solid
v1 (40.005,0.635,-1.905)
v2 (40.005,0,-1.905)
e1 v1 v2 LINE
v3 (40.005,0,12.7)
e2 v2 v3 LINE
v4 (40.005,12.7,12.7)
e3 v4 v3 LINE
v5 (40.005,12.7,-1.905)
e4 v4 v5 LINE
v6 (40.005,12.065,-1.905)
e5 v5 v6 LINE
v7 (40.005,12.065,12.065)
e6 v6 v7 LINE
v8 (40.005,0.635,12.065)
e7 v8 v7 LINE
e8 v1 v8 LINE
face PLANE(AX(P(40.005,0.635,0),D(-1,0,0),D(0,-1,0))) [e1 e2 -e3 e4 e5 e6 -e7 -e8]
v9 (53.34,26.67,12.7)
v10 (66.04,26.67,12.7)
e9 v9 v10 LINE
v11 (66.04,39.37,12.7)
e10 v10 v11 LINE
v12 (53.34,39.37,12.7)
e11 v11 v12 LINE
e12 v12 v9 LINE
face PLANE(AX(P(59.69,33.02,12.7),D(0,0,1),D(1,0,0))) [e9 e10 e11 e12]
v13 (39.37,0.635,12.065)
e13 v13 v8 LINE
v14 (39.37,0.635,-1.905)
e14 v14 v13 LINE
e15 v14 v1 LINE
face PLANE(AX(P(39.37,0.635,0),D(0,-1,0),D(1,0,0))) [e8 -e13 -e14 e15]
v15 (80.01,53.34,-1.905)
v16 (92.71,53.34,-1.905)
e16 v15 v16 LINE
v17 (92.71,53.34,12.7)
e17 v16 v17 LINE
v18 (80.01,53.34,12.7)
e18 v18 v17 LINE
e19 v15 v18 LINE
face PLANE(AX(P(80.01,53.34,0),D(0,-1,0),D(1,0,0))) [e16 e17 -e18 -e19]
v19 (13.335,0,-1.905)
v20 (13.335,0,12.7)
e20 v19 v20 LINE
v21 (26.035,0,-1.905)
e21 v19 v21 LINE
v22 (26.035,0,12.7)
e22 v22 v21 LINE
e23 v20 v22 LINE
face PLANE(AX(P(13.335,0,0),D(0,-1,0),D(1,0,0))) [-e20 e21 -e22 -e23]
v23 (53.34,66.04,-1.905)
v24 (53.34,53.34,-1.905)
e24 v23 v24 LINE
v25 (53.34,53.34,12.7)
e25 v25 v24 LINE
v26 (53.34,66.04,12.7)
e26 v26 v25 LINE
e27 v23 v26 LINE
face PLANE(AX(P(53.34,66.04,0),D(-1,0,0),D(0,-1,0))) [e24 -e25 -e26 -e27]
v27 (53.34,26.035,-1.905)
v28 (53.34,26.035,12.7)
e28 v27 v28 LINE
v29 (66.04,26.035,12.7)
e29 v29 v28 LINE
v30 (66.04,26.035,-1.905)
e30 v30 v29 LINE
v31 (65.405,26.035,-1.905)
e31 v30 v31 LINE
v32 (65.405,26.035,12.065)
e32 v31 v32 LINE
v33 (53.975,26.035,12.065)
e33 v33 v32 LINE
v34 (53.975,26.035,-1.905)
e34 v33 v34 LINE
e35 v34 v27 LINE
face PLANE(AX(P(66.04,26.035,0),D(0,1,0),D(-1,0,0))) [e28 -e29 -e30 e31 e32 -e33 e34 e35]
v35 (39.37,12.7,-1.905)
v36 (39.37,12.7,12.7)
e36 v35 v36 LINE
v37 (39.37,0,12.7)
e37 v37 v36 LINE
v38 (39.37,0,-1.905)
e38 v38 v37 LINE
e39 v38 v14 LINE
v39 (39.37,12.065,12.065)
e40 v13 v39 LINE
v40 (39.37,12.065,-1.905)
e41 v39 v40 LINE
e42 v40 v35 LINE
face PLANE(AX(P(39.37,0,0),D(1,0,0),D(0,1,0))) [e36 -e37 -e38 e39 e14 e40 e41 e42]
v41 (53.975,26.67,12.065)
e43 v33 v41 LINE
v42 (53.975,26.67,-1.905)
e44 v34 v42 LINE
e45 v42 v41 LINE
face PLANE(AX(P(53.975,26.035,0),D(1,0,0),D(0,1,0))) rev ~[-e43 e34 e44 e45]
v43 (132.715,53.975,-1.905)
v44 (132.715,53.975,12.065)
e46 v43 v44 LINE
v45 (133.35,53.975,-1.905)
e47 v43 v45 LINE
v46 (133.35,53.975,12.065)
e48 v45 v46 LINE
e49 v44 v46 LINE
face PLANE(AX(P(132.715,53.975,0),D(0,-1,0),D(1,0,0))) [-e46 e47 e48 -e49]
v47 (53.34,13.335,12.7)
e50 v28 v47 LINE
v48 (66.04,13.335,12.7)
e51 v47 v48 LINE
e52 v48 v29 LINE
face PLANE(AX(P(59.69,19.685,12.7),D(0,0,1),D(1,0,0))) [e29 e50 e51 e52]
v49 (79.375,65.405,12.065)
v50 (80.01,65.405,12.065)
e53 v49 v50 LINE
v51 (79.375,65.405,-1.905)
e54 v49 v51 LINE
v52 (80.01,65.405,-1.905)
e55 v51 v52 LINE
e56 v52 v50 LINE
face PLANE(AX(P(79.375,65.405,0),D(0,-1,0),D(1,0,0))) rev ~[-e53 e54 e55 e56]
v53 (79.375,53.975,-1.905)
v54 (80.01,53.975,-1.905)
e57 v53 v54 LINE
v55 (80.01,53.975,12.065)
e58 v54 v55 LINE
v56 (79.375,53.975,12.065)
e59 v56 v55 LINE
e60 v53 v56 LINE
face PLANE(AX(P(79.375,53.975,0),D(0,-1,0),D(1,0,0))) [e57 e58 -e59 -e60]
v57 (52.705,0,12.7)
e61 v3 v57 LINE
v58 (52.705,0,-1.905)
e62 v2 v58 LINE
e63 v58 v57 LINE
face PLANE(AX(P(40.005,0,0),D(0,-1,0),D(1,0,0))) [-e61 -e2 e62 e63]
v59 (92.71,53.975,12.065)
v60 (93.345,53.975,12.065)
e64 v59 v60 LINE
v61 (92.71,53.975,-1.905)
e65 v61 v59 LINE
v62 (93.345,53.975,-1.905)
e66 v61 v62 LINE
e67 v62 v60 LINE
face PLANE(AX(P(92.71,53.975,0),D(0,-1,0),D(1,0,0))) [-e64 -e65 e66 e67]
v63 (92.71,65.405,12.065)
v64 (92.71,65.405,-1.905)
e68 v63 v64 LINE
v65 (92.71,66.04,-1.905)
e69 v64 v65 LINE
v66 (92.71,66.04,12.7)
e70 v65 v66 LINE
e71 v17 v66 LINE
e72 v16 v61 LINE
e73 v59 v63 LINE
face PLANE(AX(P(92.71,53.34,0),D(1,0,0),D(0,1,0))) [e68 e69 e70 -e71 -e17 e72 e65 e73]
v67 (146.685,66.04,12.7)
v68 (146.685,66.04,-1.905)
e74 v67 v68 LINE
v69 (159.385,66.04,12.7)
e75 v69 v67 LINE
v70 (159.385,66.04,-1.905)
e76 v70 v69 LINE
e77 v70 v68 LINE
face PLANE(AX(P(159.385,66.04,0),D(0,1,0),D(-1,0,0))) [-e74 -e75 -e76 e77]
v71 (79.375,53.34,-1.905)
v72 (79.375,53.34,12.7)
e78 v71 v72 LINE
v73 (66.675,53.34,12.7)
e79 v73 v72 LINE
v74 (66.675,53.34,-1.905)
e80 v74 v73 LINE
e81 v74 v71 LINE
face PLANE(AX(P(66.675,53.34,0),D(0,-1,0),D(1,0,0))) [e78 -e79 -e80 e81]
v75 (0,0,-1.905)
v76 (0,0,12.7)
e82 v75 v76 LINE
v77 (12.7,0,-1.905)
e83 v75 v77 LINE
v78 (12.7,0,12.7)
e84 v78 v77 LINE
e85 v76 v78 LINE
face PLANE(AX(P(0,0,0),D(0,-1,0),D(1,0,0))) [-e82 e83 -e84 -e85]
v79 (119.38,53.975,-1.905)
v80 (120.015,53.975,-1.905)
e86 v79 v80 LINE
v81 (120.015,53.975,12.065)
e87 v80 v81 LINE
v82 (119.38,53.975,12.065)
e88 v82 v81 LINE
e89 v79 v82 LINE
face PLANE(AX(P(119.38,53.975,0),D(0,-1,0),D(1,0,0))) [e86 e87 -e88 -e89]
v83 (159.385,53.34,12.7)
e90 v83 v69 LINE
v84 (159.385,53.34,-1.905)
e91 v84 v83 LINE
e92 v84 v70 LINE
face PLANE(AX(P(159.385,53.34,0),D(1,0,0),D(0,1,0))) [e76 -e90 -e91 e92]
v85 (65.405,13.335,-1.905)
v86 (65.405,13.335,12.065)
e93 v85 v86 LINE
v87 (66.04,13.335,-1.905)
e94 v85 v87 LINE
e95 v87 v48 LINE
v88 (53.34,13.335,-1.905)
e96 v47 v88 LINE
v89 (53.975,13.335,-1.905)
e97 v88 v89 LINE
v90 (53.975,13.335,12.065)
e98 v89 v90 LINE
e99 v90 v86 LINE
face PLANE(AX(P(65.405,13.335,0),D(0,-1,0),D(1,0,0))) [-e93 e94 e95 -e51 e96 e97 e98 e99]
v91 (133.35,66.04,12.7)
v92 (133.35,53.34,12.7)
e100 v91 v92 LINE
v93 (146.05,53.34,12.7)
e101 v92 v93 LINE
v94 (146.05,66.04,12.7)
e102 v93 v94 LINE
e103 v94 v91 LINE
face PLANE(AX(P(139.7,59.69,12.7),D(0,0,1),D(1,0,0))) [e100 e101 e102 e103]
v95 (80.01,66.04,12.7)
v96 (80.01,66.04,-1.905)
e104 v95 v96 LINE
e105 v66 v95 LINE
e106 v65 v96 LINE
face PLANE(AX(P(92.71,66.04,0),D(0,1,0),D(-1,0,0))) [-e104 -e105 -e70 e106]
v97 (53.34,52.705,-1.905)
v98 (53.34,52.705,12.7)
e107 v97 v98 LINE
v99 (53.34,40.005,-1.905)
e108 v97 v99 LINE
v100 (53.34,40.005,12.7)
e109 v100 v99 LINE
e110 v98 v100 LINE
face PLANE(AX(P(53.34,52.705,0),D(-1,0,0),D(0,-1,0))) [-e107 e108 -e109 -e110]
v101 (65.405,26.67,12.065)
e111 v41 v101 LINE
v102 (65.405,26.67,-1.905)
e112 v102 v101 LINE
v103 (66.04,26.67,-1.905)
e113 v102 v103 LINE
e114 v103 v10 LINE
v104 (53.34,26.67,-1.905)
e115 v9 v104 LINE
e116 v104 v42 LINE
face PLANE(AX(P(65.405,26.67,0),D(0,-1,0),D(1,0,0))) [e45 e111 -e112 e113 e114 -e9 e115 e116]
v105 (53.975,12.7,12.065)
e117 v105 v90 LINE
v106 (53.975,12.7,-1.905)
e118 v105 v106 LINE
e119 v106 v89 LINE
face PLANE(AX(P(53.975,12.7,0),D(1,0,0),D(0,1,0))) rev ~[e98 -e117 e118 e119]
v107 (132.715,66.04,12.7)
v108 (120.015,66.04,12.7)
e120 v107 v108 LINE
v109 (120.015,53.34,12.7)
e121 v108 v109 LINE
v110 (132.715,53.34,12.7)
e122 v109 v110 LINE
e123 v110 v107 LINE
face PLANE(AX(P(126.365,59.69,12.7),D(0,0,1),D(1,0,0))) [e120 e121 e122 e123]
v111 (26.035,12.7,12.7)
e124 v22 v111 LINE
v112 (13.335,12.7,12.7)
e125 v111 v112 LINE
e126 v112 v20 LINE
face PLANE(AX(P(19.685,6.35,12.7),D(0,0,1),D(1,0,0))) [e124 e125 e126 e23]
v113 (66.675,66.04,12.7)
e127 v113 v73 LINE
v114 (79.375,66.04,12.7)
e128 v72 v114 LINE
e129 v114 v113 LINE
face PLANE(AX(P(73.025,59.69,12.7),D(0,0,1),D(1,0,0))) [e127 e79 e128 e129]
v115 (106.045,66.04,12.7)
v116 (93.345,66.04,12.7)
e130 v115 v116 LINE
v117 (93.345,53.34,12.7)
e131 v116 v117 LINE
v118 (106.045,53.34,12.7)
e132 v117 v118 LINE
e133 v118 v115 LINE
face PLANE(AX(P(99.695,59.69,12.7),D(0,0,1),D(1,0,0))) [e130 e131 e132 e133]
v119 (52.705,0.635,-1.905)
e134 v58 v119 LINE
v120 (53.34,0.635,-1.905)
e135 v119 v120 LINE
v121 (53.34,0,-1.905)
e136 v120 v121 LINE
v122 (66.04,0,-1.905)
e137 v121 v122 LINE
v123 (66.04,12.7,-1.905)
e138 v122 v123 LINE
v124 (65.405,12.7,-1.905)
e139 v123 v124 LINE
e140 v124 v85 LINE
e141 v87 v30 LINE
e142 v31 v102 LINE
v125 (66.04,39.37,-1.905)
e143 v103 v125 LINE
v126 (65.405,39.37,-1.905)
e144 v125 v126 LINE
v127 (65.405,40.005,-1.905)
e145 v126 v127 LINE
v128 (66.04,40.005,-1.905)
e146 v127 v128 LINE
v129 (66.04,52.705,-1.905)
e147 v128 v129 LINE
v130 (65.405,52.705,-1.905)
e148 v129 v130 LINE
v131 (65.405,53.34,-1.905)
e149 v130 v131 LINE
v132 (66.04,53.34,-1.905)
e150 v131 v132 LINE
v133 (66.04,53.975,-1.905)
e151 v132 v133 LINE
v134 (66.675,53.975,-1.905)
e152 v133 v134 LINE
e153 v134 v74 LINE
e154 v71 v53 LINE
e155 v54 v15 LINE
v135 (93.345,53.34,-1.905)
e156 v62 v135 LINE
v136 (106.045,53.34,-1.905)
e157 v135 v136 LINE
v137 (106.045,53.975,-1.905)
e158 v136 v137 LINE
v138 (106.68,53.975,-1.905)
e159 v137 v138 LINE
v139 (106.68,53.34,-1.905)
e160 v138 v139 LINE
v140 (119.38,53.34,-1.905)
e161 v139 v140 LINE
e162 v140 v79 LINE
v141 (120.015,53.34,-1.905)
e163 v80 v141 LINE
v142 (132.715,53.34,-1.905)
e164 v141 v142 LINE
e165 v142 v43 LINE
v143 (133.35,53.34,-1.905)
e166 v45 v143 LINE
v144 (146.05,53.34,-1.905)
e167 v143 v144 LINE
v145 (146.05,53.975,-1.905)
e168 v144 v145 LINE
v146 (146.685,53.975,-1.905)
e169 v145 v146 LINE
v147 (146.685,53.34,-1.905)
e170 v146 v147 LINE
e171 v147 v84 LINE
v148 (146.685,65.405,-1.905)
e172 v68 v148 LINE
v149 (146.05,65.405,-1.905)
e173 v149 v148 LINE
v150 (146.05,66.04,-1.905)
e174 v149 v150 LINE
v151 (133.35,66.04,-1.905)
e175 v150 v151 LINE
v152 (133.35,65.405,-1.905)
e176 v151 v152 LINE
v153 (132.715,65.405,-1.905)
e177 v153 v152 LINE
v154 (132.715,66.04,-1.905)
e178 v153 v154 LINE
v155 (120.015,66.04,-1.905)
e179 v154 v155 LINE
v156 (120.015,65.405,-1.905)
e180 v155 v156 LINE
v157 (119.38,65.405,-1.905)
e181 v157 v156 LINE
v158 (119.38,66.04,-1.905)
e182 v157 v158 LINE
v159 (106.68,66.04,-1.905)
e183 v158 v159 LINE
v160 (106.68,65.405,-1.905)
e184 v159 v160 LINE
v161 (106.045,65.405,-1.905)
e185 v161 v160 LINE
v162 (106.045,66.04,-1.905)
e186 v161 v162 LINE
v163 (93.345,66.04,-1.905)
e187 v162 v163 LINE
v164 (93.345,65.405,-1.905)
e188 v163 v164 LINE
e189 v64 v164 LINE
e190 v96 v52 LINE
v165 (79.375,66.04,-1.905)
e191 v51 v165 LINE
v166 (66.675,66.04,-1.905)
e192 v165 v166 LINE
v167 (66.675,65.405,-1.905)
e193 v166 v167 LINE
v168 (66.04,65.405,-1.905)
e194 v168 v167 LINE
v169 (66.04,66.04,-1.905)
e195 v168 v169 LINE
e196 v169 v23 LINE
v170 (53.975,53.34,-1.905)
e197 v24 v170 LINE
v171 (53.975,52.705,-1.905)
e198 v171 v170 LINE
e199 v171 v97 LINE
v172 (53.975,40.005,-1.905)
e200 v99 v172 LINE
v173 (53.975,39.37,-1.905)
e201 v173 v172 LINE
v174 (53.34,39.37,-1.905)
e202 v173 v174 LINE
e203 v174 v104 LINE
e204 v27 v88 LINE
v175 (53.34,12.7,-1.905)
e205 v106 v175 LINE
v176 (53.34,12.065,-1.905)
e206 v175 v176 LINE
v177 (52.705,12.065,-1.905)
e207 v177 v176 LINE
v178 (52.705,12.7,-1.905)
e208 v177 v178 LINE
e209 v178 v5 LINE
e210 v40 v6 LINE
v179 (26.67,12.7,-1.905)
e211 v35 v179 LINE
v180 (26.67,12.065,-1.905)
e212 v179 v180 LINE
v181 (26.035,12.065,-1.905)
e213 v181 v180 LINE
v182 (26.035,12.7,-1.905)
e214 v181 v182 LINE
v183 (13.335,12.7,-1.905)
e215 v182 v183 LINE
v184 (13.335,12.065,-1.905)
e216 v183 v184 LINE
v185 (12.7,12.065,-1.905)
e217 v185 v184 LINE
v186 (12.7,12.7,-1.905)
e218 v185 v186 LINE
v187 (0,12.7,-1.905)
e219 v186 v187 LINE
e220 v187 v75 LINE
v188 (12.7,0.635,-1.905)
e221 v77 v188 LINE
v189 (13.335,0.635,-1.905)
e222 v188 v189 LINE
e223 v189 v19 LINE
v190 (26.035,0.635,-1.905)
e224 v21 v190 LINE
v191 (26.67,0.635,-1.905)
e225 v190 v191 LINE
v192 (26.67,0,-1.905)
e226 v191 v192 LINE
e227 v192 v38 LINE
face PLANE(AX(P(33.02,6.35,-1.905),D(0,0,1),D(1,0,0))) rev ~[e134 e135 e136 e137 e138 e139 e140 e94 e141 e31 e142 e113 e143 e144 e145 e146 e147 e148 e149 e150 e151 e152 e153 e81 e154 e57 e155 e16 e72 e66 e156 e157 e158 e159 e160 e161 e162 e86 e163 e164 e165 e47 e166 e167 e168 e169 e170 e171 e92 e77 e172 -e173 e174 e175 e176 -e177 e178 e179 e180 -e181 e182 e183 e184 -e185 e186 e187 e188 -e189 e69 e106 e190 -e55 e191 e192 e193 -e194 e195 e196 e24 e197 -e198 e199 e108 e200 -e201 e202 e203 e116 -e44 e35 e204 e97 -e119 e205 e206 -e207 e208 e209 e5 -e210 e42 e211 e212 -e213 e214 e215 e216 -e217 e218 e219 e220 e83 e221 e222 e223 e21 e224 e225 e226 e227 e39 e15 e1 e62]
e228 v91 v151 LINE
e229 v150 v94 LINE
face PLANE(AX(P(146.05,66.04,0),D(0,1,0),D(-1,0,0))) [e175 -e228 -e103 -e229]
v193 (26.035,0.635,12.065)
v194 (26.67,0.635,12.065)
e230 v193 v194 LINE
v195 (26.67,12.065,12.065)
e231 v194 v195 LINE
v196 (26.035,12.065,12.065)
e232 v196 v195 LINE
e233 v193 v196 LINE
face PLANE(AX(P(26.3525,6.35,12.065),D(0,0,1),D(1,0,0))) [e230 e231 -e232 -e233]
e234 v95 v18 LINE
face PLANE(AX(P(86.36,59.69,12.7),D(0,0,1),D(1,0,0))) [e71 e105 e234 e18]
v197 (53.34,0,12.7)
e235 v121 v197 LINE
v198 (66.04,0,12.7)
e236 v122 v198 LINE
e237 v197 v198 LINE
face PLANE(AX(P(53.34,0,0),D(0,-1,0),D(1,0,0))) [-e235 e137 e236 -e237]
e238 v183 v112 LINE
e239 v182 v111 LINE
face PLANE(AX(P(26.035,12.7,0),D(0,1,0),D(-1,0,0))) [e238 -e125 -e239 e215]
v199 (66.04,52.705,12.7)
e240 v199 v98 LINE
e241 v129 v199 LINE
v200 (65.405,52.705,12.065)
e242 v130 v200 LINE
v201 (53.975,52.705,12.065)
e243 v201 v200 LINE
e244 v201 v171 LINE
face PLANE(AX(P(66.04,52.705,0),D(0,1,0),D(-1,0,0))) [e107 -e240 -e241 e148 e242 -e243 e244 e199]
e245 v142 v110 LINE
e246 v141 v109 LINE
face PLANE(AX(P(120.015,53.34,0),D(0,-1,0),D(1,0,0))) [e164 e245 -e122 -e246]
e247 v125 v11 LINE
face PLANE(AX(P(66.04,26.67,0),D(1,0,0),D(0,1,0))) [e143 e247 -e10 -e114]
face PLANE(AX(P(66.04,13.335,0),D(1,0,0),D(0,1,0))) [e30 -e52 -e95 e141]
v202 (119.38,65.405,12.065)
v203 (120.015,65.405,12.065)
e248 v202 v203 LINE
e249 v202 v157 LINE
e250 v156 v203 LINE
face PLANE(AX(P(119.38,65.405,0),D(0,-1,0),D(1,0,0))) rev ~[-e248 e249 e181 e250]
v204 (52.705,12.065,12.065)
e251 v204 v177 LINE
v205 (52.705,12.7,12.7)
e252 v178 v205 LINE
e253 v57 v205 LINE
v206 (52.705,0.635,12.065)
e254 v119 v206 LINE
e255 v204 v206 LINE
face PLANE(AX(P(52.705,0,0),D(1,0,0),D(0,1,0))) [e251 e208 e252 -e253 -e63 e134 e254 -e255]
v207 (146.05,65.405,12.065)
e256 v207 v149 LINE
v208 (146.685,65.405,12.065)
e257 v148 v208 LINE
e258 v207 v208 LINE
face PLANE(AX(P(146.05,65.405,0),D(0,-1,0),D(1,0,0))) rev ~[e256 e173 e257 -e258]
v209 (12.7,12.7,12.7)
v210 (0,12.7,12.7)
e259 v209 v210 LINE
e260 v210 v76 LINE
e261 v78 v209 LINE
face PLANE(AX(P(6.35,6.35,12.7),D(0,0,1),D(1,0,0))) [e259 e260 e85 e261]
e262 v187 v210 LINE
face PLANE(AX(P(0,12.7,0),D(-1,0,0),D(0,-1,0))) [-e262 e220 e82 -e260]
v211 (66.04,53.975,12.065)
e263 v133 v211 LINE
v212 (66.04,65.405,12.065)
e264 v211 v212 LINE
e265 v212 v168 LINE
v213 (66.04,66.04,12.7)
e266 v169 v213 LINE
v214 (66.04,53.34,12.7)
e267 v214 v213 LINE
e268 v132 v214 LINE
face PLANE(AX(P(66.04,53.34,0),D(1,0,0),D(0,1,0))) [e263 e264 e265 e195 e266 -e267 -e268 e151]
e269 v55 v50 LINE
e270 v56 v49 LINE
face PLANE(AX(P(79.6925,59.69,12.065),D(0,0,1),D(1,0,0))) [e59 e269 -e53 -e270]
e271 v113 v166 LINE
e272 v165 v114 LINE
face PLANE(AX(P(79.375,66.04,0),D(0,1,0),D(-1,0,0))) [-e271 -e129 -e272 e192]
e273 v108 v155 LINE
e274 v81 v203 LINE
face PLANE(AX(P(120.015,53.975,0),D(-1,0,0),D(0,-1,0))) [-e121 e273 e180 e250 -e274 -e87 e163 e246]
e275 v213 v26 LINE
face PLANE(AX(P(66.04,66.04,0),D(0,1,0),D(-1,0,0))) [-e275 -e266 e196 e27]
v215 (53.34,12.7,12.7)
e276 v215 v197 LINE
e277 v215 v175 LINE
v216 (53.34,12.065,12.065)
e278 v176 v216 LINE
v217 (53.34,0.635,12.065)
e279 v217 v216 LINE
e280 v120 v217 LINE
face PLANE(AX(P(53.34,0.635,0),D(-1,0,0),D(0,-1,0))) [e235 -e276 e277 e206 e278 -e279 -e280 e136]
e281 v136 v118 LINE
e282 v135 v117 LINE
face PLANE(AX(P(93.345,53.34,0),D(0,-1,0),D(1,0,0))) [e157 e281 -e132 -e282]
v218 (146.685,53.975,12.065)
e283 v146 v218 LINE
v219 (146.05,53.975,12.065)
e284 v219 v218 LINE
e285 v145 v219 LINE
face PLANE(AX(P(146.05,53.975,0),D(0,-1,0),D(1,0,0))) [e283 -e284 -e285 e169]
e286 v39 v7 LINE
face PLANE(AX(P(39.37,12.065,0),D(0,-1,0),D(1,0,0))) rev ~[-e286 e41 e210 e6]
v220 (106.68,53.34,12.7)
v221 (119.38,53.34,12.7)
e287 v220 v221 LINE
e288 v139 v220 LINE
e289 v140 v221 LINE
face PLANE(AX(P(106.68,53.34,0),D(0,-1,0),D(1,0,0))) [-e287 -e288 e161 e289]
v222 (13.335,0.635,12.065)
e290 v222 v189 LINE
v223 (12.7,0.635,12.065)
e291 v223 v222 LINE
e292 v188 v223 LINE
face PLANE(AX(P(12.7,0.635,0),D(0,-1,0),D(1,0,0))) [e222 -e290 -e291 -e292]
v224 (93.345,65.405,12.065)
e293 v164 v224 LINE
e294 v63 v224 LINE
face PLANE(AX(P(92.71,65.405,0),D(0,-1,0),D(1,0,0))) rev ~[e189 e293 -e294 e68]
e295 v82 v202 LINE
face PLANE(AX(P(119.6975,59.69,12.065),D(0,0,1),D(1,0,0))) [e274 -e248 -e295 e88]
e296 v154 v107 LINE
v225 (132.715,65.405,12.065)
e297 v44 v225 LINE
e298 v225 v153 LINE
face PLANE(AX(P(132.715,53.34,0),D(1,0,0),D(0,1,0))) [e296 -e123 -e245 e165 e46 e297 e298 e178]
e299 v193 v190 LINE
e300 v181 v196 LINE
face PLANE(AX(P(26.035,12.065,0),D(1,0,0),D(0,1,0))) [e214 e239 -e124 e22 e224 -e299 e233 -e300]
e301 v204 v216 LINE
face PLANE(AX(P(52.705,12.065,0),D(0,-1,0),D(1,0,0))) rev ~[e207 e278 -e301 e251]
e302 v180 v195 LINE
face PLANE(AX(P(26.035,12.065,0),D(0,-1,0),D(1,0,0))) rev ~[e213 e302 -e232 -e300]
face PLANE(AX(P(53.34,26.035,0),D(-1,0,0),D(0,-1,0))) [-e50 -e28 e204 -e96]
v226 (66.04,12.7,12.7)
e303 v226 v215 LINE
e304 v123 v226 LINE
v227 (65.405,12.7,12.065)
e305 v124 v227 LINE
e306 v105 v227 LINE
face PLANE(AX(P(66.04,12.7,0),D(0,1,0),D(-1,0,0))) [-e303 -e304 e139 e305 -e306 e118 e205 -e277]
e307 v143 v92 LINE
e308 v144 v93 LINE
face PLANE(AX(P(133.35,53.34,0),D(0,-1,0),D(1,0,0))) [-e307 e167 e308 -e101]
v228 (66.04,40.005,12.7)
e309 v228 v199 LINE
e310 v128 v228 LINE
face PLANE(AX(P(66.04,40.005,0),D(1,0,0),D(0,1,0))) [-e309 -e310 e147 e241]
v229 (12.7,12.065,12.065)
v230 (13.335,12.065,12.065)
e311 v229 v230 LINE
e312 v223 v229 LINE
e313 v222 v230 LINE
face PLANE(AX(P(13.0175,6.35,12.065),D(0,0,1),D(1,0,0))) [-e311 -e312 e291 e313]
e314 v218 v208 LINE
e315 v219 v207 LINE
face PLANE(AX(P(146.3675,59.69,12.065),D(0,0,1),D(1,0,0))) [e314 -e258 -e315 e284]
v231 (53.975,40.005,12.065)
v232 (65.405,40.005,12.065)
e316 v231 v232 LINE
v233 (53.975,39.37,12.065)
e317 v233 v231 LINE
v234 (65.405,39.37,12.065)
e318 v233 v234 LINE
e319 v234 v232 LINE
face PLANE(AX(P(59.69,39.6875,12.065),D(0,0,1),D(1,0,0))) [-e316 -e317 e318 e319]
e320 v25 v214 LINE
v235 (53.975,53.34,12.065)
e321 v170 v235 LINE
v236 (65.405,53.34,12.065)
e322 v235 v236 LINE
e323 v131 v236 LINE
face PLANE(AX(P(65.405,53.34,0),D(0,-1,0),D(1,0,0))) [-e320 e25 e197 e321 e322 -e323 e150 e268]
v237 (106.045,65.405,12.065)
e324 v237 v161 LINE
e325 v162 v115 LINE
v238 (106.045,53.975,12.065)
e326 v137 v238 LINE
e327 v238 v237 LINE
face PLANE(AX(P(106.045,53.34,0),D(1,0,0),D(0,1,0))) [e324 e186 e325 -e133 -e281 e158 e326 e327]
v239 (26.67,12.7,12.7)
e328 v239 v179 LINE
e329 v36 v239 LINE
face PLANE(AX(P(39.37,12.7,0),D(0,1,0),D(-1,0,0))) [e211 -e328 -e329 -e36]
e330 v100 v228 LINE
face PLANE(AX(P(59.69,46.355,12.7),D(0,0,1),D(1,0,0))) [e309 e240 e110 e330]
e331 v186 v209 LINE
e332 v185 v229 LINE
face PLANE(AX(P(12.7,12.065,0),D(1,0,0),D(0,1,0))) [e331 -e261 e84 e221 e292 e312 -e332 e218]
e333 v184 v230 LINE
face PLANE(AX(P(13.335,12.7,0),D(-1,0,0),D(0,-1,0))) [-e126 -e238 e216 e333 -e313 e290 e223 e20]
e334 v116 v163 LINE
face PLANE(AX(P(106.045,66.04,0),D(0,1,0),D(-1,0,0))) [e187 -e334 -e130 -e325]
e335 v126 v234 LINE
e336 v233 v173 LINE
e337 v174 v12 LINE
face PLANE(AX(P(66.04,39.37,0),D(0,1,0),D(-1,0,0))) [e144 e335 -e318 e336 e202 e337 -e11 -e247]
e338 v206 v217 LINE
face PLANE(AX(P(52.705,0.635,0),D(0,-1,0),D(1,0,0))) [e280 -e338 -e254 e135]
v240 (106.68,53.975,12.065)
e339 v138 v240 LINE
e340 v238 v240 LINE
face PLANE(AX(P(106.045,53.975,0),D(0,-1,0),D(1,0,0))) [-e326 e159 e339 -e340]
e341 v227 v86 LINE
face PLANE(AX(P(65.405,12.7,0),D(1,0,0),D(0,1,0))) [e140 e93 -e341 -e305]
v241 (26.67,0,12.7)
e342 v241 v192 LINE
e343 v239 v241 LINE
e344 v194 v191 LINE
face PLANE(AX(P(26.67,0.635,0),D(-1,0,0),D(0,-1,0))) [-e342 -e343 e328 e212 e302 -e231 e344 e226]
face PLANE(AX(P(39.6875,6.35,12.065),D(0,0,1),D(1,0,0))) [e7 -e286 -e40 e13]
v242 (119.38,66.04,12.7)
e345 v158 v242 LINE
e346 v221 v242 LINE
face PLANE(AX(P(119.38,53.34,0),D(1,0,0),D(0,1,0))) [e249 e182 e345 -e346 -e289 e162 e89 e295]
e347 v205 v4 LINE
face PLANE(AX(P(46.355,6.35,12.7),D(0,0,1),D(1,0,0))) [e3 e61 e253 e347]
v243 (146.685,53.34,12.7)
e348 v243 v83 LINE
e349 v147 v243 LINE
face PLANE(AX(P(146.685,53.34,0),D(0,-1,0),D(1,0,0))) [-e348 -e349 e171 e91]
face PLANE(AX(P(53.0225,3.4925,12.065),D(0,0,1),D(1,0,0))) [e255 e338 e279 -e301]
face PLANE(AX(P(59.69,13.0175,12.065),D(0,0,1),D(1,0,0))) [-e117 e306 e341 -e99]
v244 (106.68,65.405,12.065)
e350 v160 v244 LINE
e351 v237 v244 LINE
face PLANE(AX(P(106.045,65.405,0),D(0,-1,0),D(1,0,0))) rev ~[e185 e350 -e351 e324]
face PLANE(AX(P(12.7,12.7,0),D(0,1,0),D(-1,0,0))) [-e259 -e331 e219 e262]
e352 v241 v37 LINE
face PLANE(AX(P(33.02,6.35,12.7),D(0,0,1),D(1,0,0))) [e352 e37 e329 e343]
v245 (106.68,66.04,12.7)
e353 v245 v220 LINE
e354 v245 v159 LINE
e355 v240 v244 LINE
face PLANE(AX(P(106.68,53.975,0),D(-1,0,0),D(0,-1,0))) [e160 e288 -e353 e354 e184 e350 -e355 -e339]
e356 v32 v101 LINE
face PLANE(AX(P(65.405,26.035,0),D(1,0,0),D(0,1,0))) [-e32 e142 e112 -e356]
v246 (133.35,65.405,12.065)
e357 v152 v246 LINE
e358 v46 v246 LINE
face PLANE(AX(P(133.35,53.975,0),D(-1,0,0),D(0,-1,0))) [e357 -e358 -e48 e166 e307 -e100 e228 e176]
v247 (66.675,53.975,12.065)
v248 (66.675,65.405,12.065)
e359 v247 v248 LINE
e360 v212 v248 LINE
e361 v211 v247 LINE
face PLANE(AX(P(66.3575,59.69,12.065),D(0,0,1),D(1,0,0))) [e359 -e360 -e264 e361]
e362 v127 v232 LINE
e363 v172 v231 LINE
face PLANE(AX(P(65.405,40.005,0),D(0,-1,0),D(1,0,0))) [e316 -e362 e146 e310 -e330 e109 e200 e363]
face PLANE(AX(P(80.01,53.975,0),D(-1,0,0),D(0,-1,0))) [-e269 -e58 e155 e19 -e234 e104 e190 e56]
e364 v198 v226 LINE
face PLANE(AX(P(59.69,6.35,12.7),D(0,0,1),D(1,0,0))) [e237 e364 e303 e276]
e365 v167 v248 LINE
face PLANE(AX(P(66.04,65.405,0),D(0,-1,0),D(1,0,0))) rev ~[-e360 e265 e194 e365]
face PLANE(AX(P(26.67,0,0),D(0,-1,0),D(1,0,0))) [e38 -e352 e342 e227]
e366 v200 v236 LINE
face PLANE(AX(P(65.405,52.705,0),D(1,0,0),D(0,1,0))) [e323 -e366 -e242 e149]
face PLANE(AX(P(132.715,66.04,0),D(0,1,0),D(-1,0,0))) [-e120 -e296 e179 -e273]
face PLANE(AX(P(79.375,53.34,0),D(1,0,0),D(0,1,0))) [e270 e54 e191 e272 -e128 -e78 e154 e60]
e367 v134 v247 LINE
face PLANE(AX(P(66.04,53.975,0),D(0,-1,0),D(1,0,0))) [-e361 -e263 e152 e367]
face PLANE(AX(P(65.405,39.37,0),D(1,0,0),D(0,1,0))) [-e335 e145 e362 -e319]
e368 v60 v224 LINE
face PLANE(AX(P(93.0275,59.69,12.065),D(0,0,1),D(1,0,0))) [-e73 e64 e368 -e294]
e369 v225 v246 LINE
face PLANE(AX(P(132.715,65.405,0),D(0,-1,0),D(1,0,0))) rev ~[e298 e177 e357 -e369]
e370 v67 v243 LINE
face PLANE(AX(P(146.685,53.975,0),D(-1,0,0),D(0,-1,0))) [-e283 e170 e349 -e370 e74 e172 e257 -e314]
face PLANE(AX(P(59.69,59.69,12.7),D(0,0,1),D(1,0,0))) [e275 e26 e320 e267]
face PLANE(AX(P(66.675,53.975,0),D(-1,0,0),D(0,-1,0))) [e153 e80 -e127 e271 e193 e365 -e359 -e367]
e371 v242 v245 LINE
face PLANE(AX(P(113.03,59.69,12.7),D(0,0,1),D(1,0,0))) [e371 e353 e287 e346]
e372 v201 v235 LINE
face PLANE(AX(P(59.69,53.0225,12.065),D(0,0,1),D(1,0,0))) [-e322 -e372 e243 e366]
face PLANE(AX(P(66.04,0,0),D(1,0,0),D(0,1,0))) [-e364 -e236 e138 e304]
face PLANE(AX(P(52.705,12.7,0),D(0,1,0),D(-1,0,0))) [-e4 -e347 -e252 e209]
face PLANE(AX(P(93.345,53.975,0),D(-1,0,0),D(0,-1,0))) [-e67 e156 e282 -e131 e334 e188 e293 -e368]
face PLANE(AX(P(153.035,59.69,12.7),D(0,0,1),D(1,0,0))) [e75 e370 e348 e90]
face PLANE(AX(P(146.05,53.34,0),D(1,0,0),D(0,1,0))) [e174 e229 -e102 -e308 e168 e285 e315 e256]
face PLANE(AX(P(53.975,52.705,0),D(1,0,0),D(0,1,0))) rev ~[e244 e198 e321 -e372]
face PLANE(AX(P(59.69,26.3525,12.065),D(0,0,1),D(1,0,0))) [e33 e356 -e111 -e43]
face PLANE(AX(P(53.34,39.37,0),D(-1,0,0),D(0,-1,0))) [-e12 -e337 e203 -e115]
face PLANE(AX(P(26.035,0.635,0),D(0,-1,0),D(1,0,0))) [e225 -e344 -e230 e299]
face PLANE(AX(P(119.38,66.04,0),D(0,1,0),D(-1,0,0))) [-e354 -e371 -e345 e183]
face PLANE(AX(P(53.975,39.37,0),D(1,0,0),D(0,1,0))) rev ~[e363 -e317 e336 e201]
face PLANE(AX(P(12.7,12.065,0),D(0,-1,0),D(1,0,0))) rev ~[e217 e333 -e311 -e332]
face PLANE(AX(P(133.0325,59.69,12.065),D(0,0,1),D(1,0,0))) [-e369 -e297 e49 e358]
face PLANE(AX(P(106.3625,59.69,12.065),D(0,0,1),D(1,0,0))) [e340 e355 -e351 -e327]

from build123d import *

# Parameters (mm, degrees)
F0_W     = 1.27
F0_H     = 22.86
F1_DEPTH = 24.13
F0_H_2   = 11.43
F0_W_2   = 22.86
F0_H_3   = 1.27
F2_DEPTH = 25.4
F3_DEPTH = 3.81
F4_SCALE = 0.5


with BuildPart() as f1:
    # F0 (on Top) → F1 (new body)
    with BuildSketch(Plane.XY):
        with Locations((26.035, 12.7)):
            Rectangle(F0_W, F0_H)
    extrude(amount=F1_DEPTH)



with BuildPart() as f1b:
    # F0 (on Top) → F1, piece 2 (new body)
    with BuildSketch(Plane.XY):
        with Locations((52.705, 12.7)):
            Rectangle(F0_W, F0_H)
    extrude(amount=F1_DEPTH)


with BuildPart() as f1c:
    # F0 (on Top) → F1, piece 3 (new body)
    with BuildSketch(Plane.XY):
        with Locations((79.375, 12.7)):
            Rectangle(F0_W, F0_H)
    extrude(amount=F1_DEPTH)


with BuildPart() as f1d:
    # F0 (on Top) → F1, piece 4 (new body)
    with BuildSketch(Plane.XY):
        with Locations((106.045, 6.985)):
            Rectangle(F0_W, F0_H_2)
        with Locations((106.045, 18.415)):
            Rectangle(F0_W, F0_H_2)
    extrude(amount=F1_DEPTH)


with BuildPart() as f1e:
    # F0 (on Top) → F1, piece 5 (new body)
    with BuildSketch(Plane.XY):
        with Locations((119.38, 26.035)):
            Rectangle(F0_W_2, F0_H_3)
    extrude(amount=F1_DEPTH)


with BuildPart() as f1f:
    # F0 (on Top) → F1, piece 6 (new body)
    with BuildSketch(Plane.XY):
        with Locations((119.38, 52.705)):
            Rectangle(F0_W_2, F0_H_3)
    extrude(amount=F1_DEPTH)


with BuildPart() as f1g:
    # F0 (on Top) → F1, piece 7 (new body)
    with BuildSketch(Plane.XY):
        with Locations((119.38, 79.375)):
            Rectangle(F0_W_2, F0_H_3)
    extrude(amount=F1_DEPTH)


with BuildPart() as f1h:
    # F0 (on Top) → F1, piece 8 (new body)
    with BuildSketch(Plane.XY):
        with Locations((119.38, 106.045)):
            Rectangle(F0_W_2, F0_H_3)
    extrude(amount=F1_DEPTH)


with BuildPart() as f1i:
    # F0 (on Top) → F1, piece 9 (new body)
    with BuildSketch(Plane.XY):
        with Locations((132.715, 119.38)):
            Rectangle(F0_W, F0_H)
    extrude(amount=F1_DEPTH)


with BuildPart() as f1j:
    # F0 (on Top) → F1, piece 10 (new body)
    with BuildSketch(Plane.XY):
        with Locations((159.385, 119.38)):
            Rectangle(F0_W, F0_H)
    extrude(amount=F1_DEPTH)


with BuildPart() as f1k:
    # F0 (on Top) → F1, piece 11 (new body)
    with BuildSketch(Plane.XY):
        with Locations((186.055, 119.38)):
            Rectangle(F0_W, F0_H)
    extrude(amount=F1_DEPTH)


with BuildPart() as f1l:
    # F0 (on Top) → F1, piece 12 (new body)
    with BuildSketch(Plane.XY):
        with Locations((212.725, 119.38)):
            Rectangle(F0_W, F0_H)
    extrude(amount=F1_DEPTH)


with BuildPart() as f1m:
    # F0 (on Top) → F1, piece 13 (new body)
    with BuildSketch(Plane.XY):
        with Locations((239.395, 119.38)):
            Rectangle(F0_W, F0_H)
    extrude(amount=F1_DEPTH)


with BuildPart() as f1n:
    # F0 (on Top) → F1, piece 14 (new body)
    with BuildSketch(Plane.XY):
        with Locations((266.065, 119.38)):
            Rectangle(F0_W, F0_H)
    extrude(amount=F1_DEPTH)


with BuildPart() as f1o:
    # F0 (on Top) → F1, piece 15 (new body)
    with BuildSketch(Plane.XY):
        with Locations((292.735, 119.38)):
            Rectangle(F0_W, F0_H)
    extrude(amount=F1_DEPTH)


with BuildPart() as f1_1:
    add(f1.part)

    add(f1b.part)  # F2 merges F1b

    add(f1c.part)  # F2 merges F1c

    add(f1d.part)  # F2 merges F1d

    add(f1e.part)  # F2 merges F1e

    add(f1f.part)  # F2 merges F1f

    add(f1g.part)  # F2 merges F1g

    add(f1h.part)  # F2 merges F1h

    add(f1i.part)  # F2 merges F1i

    add(f1j.part)  # F2 merges F1j

    add(f1k.part)  # F2 merges F1k

    add(f1l.part)  # F2 merges F1l

    add(f1m.part)  # F2 merges F1m

    add(f1n.part)  # F2 merges F1n

    add(f1o.part)  # F2 merges F1o
    # F0 (on Top) → F2 (join)
    with BuildSketch(Plane.XY):
        Polygon((0, 25.4), (0, 0), (25.4, 0), (25.4, 1.27), (25.4, 24.13), (25.4, 25.4), align=None)
        Polygon((26.67, 24.13), (26.67, 1.27), (26.67, 0), (52.07, 0), (52.07, 1.27), (52.07, 24.13), (52.07, 25.4), (26.67, 25.4), align=None)
        Polygon((53.34, 24.13), (53.34, 1.27), (53.34, 0), (78.74, 0), (78.74, 1.27), (78.74, 24.13), (78.74, 25.4), (53.34, 25.4), align=None)
        Polygon((80.01, 24.13), (80.01, 1.27), (80.01, 0), (105.41, 0), (105.41, 1.27), (105.41, 12.7), (105.41, 24.13), (105.41, 25.4), (80.01, 25.4), align=None)
        Polygon((106.68, 12.7), (106.68, 1.27), (106.68, 0), (132.08, 0), (132.08, 25.4), (130.81, 25.4), (107.95, 25.4), (106.68, 25.4), (106.68, 24.13), align=None)
        Polygon((106.68, 26.67), (107.95, 26.67), (130.81, 26.67), (132.08, 26.67), (132.08, 52.07), (130.81, 52.07), (107.95, 52.07), (106.68, 52.07), align=None)
        Polygon((106.68, 53.34), (107.95, 53.34), (130.81, 53.34), (132.08, 53.34), (132.08, 78.74), (130.81, 78.74), (107.95, 78.74), (106.68, 78.74), align=None)
        Polygon((106.68, 80.01), (107.95, 80.01), (130.81, 80.01), (132.08, 80.01), (132.08, 105.41), (130.81, 105.41), (107.95, 105.41), (106.68, 105.41), align=None)
        Polygon((106.68, 106.68), (107.95, 106.68), (130.81, 106.68), (132.08, 106.68), (132.08, 107.95), (132.08, 130.81), (132.08, 132.08), (106.68, 132.08), align=None)
        Polygon((133.35, 130.81), (133.35, 107.95), (133.35, 106.68), (158.75, 106.68), (158.75, 107.95), (158.75, 130.81), (158.75, 132.08), (133.35, 132.08), align=None)
        Polygon((160.02, 130.81), (160.02, 107.95), (160.02, 106.68), (185.42, 106.68), (185.42, 107.95), (185.42, 130.81), (185.42, 132.08), (160.02, 132.08), align=None)
        Polygon((186.69, 130.81), (186.69, 107.95), (186.69, 106.68), (212.09, 106.68), (212.09, 107.95), (212.09, 130.81), (212.09, 132.08), (186.69, 132.08), align=None)
        Polygon((213.36, 130.81), (213.36, 107.95), (213.36, 106.68), (238.76, 106.68), (238.76, 107.95), (238.76, 130.81), (238.76, 132.08), (213.36, 132.08), align=None)
        Polygon((240.03, 130.81), (240.03, 107.95), (240.03, 106.68), (265.43, 106.68), (265.43, 107.95), (265.43, 130.81), (265.43, 132.08), (240.03, 132.08), align=None)
        Polygon((266.7, 130.81), (266.7, 107.95), (266.7, 106.68), (292.1, 106.68), (292.1, 107.95), (292.1, 130.81), (292.1, 132.08), (266.7, 132.08), align=None)
        Polygon((293.37, 130.81), (293.37, 107.95), (293.37, 106.68), (318.77, 106.68), (318.77, 107.95), (318.77, 130.81), (318.77, 132.08), (293.37, 132.08), align=None)
    extrude(amount=F2_DEPTH)

    # F0 (on Top) → F3 (join)
    with BuildSketch(Plane.XY):
        Polygon((53.34, 24.13), (53.34, 1.27), (53.34, 0), (78.74, 0), (78.74, 1.27), (78.74, 24.13), (78.74, 25.4), (53.34, 25.4), align=None)
        Polygon((213.36, 130.81), (213.36, 107.95), (213.36, 106.68), (238.76, 106.68), (238.76, 107.95), (238.76, 130.81), (238.76, 132.08), (213.36, 132.08), align=None)
        Polygon((106.68, 106.68), (107.95, 106.68), (130.81, 106.68), (132.08, 106.68), (132.08, 107.95), (132.08, 130.81), (132.08, 132.08), (106.68, 132.08), align=None)
        Polygon((0, 25.4), (0, 0), (25.4, 0), (25.4, 1.27), (25.4, 24.13), (25.4, 25.4), align=None)
        Polygon((293.37, 130.81), (293.37, 107.95), (293.37, 106.68), (318.77, 106.68), (318.77, 107.95), (318.77, 130.81), (318.77, 132.08), (293.37, 132.08), align=None)
        Polygon((106.68, 80.01), (107.95, 80.01), (130.81, 80.01), (132.08, 80.01), (132.08, 105.41), (130.81, 105.41), (107.95, 105.41), (106.68, 105.41), align=None)
        Polygon((106.68, 53.34), (107.95, 53.34), (130.81, 53.34), (132.08, 53.34), (132.08, 78.74), (130.81, 78.74), (107.95, 78.74), (106.68, 78.74), align=None)
        Polygon((106.68, 26.67), (107.95, 26.67), (130.81, 26.67), (132.08, 26.67), (132.08, 52.07), (130.81, 52.07), (107.95, 52.07), (106.68, 52.07), align=None)
        Polygon((26.67, 24.13), (26.67, 1.27), (26.67, 0), (52.07, 0), (52.07, 1.27), (52.07, 24.13), (52.07, 25.4), (26.67, 25.4), align=None)
        Polygon((160.02, 130.81), (160.02, 107.95), (160.02, 106.68), (185.42, 106.68), (185.42, 107.95), (185.42, 130.81), (185.42, 132.08), (160.02, 132.08), align=None)
        Polygon((186.69, 130.81), (186.69, 107.95), (186.69, 106.68), (212.09, 106.68), (212.09, 107.95), (212.09, 130.81), (212.09, 132.08), (186.69, 132.08), align=None)
        Polygon((240.03, 130.81), (240.03, 107.95), (240.03, 106.68), (265.43, 106.68), (265.43, 107.95), (265.43, 130.81), (265.43, 132.08), (240.03, 132.08), align=None)
        Polygon((106.68, 12.7), (106.68, 1.27), (106.68, 0), (132.08, 0), (132.08, 25.4), (130.81, 25.4), (107.95, 25.4), (106.68, 25.4), (106.68, 24.13), align=None)
        Polygon((133.35, 130.81), (133.35, 107.95), (133.35, 106.68), (158.75, 106.68), (158.75, 107.95), (158.75, 130.81), (158.75, 132.08), (133.35, 132.08), align=None)
        Polygon((80.01, 24.13), (80.01, 1.27), (80.01, 0), (105.41, 0), (105.41, 1.27), (105.41, 12.7), (105.41, 24.13), (105.41, 25.4), (80.01, 25.4), align=None)
        Polygon((266.7, 130.81), (266.7, 107.95), (266.7, 106.68), (292.1, 106.68), (292.1, 107.95), (292.1, 130.81), (292.1, 132.08), (266.7, 132.08), align=None)
        with Locations((132.715, 119.38)):
            Rectangle(F0_W, F0_H)
        with Locations((119.38, 106.045)):
            Rectangle(F0_W_2, F0_H_3)
        with Locations((239.395, 119.38)):
            Rectangle(F0_W, F0_H)
        with Locations((186.055, 119.38)):
            Rectangle(F0_W, F0_H)
        with Locations((159.385, 119.38)):
            Rectangle(F0_W, F0_H)
        with Locations((52.705, 12.7)):
            Rectangle(F0_W, F0_H)
        with Locations((212.725, 119.38)):
            Rectangle(F0_W, F0_H)
        with Locations((119.38, 79.375)):
            Rectangle(F0_W_2, F0_H_3)
        with Locations((119.38, 52.705)):
            Rectangle(F0_W_2, F0_H_3)
        with Locations((119.38, 26.035)):
            Rectangle(F0_W_2, F0_H_3)
        with Locations((79.375, 12.7)):
            Rectangle(F0_W, F0_H)
        with Locations((26.035, 12.7)):
            Rectangle(F0_W, F0_H)
        with Locations((266.065, 119.38)):
            Rectangle(F0_W, F0_H)
        with Locations((106.045, 6.985)):
            Rectangle(F0_W, F0_H_2)
        with Locations((292.735, 119.38)):
            Rectangle(F0_W, F0_H)
        with Locations((106.045, 18.415)):
            Rectangle(F0_W, F0_H_2)
    extrude(amount=-F3_DEPTH)


with BuildPart() as f1_2:
    # F4: moved
    add(f1_1.part.scale(F4_SCALE))


solid = f1_2.part
